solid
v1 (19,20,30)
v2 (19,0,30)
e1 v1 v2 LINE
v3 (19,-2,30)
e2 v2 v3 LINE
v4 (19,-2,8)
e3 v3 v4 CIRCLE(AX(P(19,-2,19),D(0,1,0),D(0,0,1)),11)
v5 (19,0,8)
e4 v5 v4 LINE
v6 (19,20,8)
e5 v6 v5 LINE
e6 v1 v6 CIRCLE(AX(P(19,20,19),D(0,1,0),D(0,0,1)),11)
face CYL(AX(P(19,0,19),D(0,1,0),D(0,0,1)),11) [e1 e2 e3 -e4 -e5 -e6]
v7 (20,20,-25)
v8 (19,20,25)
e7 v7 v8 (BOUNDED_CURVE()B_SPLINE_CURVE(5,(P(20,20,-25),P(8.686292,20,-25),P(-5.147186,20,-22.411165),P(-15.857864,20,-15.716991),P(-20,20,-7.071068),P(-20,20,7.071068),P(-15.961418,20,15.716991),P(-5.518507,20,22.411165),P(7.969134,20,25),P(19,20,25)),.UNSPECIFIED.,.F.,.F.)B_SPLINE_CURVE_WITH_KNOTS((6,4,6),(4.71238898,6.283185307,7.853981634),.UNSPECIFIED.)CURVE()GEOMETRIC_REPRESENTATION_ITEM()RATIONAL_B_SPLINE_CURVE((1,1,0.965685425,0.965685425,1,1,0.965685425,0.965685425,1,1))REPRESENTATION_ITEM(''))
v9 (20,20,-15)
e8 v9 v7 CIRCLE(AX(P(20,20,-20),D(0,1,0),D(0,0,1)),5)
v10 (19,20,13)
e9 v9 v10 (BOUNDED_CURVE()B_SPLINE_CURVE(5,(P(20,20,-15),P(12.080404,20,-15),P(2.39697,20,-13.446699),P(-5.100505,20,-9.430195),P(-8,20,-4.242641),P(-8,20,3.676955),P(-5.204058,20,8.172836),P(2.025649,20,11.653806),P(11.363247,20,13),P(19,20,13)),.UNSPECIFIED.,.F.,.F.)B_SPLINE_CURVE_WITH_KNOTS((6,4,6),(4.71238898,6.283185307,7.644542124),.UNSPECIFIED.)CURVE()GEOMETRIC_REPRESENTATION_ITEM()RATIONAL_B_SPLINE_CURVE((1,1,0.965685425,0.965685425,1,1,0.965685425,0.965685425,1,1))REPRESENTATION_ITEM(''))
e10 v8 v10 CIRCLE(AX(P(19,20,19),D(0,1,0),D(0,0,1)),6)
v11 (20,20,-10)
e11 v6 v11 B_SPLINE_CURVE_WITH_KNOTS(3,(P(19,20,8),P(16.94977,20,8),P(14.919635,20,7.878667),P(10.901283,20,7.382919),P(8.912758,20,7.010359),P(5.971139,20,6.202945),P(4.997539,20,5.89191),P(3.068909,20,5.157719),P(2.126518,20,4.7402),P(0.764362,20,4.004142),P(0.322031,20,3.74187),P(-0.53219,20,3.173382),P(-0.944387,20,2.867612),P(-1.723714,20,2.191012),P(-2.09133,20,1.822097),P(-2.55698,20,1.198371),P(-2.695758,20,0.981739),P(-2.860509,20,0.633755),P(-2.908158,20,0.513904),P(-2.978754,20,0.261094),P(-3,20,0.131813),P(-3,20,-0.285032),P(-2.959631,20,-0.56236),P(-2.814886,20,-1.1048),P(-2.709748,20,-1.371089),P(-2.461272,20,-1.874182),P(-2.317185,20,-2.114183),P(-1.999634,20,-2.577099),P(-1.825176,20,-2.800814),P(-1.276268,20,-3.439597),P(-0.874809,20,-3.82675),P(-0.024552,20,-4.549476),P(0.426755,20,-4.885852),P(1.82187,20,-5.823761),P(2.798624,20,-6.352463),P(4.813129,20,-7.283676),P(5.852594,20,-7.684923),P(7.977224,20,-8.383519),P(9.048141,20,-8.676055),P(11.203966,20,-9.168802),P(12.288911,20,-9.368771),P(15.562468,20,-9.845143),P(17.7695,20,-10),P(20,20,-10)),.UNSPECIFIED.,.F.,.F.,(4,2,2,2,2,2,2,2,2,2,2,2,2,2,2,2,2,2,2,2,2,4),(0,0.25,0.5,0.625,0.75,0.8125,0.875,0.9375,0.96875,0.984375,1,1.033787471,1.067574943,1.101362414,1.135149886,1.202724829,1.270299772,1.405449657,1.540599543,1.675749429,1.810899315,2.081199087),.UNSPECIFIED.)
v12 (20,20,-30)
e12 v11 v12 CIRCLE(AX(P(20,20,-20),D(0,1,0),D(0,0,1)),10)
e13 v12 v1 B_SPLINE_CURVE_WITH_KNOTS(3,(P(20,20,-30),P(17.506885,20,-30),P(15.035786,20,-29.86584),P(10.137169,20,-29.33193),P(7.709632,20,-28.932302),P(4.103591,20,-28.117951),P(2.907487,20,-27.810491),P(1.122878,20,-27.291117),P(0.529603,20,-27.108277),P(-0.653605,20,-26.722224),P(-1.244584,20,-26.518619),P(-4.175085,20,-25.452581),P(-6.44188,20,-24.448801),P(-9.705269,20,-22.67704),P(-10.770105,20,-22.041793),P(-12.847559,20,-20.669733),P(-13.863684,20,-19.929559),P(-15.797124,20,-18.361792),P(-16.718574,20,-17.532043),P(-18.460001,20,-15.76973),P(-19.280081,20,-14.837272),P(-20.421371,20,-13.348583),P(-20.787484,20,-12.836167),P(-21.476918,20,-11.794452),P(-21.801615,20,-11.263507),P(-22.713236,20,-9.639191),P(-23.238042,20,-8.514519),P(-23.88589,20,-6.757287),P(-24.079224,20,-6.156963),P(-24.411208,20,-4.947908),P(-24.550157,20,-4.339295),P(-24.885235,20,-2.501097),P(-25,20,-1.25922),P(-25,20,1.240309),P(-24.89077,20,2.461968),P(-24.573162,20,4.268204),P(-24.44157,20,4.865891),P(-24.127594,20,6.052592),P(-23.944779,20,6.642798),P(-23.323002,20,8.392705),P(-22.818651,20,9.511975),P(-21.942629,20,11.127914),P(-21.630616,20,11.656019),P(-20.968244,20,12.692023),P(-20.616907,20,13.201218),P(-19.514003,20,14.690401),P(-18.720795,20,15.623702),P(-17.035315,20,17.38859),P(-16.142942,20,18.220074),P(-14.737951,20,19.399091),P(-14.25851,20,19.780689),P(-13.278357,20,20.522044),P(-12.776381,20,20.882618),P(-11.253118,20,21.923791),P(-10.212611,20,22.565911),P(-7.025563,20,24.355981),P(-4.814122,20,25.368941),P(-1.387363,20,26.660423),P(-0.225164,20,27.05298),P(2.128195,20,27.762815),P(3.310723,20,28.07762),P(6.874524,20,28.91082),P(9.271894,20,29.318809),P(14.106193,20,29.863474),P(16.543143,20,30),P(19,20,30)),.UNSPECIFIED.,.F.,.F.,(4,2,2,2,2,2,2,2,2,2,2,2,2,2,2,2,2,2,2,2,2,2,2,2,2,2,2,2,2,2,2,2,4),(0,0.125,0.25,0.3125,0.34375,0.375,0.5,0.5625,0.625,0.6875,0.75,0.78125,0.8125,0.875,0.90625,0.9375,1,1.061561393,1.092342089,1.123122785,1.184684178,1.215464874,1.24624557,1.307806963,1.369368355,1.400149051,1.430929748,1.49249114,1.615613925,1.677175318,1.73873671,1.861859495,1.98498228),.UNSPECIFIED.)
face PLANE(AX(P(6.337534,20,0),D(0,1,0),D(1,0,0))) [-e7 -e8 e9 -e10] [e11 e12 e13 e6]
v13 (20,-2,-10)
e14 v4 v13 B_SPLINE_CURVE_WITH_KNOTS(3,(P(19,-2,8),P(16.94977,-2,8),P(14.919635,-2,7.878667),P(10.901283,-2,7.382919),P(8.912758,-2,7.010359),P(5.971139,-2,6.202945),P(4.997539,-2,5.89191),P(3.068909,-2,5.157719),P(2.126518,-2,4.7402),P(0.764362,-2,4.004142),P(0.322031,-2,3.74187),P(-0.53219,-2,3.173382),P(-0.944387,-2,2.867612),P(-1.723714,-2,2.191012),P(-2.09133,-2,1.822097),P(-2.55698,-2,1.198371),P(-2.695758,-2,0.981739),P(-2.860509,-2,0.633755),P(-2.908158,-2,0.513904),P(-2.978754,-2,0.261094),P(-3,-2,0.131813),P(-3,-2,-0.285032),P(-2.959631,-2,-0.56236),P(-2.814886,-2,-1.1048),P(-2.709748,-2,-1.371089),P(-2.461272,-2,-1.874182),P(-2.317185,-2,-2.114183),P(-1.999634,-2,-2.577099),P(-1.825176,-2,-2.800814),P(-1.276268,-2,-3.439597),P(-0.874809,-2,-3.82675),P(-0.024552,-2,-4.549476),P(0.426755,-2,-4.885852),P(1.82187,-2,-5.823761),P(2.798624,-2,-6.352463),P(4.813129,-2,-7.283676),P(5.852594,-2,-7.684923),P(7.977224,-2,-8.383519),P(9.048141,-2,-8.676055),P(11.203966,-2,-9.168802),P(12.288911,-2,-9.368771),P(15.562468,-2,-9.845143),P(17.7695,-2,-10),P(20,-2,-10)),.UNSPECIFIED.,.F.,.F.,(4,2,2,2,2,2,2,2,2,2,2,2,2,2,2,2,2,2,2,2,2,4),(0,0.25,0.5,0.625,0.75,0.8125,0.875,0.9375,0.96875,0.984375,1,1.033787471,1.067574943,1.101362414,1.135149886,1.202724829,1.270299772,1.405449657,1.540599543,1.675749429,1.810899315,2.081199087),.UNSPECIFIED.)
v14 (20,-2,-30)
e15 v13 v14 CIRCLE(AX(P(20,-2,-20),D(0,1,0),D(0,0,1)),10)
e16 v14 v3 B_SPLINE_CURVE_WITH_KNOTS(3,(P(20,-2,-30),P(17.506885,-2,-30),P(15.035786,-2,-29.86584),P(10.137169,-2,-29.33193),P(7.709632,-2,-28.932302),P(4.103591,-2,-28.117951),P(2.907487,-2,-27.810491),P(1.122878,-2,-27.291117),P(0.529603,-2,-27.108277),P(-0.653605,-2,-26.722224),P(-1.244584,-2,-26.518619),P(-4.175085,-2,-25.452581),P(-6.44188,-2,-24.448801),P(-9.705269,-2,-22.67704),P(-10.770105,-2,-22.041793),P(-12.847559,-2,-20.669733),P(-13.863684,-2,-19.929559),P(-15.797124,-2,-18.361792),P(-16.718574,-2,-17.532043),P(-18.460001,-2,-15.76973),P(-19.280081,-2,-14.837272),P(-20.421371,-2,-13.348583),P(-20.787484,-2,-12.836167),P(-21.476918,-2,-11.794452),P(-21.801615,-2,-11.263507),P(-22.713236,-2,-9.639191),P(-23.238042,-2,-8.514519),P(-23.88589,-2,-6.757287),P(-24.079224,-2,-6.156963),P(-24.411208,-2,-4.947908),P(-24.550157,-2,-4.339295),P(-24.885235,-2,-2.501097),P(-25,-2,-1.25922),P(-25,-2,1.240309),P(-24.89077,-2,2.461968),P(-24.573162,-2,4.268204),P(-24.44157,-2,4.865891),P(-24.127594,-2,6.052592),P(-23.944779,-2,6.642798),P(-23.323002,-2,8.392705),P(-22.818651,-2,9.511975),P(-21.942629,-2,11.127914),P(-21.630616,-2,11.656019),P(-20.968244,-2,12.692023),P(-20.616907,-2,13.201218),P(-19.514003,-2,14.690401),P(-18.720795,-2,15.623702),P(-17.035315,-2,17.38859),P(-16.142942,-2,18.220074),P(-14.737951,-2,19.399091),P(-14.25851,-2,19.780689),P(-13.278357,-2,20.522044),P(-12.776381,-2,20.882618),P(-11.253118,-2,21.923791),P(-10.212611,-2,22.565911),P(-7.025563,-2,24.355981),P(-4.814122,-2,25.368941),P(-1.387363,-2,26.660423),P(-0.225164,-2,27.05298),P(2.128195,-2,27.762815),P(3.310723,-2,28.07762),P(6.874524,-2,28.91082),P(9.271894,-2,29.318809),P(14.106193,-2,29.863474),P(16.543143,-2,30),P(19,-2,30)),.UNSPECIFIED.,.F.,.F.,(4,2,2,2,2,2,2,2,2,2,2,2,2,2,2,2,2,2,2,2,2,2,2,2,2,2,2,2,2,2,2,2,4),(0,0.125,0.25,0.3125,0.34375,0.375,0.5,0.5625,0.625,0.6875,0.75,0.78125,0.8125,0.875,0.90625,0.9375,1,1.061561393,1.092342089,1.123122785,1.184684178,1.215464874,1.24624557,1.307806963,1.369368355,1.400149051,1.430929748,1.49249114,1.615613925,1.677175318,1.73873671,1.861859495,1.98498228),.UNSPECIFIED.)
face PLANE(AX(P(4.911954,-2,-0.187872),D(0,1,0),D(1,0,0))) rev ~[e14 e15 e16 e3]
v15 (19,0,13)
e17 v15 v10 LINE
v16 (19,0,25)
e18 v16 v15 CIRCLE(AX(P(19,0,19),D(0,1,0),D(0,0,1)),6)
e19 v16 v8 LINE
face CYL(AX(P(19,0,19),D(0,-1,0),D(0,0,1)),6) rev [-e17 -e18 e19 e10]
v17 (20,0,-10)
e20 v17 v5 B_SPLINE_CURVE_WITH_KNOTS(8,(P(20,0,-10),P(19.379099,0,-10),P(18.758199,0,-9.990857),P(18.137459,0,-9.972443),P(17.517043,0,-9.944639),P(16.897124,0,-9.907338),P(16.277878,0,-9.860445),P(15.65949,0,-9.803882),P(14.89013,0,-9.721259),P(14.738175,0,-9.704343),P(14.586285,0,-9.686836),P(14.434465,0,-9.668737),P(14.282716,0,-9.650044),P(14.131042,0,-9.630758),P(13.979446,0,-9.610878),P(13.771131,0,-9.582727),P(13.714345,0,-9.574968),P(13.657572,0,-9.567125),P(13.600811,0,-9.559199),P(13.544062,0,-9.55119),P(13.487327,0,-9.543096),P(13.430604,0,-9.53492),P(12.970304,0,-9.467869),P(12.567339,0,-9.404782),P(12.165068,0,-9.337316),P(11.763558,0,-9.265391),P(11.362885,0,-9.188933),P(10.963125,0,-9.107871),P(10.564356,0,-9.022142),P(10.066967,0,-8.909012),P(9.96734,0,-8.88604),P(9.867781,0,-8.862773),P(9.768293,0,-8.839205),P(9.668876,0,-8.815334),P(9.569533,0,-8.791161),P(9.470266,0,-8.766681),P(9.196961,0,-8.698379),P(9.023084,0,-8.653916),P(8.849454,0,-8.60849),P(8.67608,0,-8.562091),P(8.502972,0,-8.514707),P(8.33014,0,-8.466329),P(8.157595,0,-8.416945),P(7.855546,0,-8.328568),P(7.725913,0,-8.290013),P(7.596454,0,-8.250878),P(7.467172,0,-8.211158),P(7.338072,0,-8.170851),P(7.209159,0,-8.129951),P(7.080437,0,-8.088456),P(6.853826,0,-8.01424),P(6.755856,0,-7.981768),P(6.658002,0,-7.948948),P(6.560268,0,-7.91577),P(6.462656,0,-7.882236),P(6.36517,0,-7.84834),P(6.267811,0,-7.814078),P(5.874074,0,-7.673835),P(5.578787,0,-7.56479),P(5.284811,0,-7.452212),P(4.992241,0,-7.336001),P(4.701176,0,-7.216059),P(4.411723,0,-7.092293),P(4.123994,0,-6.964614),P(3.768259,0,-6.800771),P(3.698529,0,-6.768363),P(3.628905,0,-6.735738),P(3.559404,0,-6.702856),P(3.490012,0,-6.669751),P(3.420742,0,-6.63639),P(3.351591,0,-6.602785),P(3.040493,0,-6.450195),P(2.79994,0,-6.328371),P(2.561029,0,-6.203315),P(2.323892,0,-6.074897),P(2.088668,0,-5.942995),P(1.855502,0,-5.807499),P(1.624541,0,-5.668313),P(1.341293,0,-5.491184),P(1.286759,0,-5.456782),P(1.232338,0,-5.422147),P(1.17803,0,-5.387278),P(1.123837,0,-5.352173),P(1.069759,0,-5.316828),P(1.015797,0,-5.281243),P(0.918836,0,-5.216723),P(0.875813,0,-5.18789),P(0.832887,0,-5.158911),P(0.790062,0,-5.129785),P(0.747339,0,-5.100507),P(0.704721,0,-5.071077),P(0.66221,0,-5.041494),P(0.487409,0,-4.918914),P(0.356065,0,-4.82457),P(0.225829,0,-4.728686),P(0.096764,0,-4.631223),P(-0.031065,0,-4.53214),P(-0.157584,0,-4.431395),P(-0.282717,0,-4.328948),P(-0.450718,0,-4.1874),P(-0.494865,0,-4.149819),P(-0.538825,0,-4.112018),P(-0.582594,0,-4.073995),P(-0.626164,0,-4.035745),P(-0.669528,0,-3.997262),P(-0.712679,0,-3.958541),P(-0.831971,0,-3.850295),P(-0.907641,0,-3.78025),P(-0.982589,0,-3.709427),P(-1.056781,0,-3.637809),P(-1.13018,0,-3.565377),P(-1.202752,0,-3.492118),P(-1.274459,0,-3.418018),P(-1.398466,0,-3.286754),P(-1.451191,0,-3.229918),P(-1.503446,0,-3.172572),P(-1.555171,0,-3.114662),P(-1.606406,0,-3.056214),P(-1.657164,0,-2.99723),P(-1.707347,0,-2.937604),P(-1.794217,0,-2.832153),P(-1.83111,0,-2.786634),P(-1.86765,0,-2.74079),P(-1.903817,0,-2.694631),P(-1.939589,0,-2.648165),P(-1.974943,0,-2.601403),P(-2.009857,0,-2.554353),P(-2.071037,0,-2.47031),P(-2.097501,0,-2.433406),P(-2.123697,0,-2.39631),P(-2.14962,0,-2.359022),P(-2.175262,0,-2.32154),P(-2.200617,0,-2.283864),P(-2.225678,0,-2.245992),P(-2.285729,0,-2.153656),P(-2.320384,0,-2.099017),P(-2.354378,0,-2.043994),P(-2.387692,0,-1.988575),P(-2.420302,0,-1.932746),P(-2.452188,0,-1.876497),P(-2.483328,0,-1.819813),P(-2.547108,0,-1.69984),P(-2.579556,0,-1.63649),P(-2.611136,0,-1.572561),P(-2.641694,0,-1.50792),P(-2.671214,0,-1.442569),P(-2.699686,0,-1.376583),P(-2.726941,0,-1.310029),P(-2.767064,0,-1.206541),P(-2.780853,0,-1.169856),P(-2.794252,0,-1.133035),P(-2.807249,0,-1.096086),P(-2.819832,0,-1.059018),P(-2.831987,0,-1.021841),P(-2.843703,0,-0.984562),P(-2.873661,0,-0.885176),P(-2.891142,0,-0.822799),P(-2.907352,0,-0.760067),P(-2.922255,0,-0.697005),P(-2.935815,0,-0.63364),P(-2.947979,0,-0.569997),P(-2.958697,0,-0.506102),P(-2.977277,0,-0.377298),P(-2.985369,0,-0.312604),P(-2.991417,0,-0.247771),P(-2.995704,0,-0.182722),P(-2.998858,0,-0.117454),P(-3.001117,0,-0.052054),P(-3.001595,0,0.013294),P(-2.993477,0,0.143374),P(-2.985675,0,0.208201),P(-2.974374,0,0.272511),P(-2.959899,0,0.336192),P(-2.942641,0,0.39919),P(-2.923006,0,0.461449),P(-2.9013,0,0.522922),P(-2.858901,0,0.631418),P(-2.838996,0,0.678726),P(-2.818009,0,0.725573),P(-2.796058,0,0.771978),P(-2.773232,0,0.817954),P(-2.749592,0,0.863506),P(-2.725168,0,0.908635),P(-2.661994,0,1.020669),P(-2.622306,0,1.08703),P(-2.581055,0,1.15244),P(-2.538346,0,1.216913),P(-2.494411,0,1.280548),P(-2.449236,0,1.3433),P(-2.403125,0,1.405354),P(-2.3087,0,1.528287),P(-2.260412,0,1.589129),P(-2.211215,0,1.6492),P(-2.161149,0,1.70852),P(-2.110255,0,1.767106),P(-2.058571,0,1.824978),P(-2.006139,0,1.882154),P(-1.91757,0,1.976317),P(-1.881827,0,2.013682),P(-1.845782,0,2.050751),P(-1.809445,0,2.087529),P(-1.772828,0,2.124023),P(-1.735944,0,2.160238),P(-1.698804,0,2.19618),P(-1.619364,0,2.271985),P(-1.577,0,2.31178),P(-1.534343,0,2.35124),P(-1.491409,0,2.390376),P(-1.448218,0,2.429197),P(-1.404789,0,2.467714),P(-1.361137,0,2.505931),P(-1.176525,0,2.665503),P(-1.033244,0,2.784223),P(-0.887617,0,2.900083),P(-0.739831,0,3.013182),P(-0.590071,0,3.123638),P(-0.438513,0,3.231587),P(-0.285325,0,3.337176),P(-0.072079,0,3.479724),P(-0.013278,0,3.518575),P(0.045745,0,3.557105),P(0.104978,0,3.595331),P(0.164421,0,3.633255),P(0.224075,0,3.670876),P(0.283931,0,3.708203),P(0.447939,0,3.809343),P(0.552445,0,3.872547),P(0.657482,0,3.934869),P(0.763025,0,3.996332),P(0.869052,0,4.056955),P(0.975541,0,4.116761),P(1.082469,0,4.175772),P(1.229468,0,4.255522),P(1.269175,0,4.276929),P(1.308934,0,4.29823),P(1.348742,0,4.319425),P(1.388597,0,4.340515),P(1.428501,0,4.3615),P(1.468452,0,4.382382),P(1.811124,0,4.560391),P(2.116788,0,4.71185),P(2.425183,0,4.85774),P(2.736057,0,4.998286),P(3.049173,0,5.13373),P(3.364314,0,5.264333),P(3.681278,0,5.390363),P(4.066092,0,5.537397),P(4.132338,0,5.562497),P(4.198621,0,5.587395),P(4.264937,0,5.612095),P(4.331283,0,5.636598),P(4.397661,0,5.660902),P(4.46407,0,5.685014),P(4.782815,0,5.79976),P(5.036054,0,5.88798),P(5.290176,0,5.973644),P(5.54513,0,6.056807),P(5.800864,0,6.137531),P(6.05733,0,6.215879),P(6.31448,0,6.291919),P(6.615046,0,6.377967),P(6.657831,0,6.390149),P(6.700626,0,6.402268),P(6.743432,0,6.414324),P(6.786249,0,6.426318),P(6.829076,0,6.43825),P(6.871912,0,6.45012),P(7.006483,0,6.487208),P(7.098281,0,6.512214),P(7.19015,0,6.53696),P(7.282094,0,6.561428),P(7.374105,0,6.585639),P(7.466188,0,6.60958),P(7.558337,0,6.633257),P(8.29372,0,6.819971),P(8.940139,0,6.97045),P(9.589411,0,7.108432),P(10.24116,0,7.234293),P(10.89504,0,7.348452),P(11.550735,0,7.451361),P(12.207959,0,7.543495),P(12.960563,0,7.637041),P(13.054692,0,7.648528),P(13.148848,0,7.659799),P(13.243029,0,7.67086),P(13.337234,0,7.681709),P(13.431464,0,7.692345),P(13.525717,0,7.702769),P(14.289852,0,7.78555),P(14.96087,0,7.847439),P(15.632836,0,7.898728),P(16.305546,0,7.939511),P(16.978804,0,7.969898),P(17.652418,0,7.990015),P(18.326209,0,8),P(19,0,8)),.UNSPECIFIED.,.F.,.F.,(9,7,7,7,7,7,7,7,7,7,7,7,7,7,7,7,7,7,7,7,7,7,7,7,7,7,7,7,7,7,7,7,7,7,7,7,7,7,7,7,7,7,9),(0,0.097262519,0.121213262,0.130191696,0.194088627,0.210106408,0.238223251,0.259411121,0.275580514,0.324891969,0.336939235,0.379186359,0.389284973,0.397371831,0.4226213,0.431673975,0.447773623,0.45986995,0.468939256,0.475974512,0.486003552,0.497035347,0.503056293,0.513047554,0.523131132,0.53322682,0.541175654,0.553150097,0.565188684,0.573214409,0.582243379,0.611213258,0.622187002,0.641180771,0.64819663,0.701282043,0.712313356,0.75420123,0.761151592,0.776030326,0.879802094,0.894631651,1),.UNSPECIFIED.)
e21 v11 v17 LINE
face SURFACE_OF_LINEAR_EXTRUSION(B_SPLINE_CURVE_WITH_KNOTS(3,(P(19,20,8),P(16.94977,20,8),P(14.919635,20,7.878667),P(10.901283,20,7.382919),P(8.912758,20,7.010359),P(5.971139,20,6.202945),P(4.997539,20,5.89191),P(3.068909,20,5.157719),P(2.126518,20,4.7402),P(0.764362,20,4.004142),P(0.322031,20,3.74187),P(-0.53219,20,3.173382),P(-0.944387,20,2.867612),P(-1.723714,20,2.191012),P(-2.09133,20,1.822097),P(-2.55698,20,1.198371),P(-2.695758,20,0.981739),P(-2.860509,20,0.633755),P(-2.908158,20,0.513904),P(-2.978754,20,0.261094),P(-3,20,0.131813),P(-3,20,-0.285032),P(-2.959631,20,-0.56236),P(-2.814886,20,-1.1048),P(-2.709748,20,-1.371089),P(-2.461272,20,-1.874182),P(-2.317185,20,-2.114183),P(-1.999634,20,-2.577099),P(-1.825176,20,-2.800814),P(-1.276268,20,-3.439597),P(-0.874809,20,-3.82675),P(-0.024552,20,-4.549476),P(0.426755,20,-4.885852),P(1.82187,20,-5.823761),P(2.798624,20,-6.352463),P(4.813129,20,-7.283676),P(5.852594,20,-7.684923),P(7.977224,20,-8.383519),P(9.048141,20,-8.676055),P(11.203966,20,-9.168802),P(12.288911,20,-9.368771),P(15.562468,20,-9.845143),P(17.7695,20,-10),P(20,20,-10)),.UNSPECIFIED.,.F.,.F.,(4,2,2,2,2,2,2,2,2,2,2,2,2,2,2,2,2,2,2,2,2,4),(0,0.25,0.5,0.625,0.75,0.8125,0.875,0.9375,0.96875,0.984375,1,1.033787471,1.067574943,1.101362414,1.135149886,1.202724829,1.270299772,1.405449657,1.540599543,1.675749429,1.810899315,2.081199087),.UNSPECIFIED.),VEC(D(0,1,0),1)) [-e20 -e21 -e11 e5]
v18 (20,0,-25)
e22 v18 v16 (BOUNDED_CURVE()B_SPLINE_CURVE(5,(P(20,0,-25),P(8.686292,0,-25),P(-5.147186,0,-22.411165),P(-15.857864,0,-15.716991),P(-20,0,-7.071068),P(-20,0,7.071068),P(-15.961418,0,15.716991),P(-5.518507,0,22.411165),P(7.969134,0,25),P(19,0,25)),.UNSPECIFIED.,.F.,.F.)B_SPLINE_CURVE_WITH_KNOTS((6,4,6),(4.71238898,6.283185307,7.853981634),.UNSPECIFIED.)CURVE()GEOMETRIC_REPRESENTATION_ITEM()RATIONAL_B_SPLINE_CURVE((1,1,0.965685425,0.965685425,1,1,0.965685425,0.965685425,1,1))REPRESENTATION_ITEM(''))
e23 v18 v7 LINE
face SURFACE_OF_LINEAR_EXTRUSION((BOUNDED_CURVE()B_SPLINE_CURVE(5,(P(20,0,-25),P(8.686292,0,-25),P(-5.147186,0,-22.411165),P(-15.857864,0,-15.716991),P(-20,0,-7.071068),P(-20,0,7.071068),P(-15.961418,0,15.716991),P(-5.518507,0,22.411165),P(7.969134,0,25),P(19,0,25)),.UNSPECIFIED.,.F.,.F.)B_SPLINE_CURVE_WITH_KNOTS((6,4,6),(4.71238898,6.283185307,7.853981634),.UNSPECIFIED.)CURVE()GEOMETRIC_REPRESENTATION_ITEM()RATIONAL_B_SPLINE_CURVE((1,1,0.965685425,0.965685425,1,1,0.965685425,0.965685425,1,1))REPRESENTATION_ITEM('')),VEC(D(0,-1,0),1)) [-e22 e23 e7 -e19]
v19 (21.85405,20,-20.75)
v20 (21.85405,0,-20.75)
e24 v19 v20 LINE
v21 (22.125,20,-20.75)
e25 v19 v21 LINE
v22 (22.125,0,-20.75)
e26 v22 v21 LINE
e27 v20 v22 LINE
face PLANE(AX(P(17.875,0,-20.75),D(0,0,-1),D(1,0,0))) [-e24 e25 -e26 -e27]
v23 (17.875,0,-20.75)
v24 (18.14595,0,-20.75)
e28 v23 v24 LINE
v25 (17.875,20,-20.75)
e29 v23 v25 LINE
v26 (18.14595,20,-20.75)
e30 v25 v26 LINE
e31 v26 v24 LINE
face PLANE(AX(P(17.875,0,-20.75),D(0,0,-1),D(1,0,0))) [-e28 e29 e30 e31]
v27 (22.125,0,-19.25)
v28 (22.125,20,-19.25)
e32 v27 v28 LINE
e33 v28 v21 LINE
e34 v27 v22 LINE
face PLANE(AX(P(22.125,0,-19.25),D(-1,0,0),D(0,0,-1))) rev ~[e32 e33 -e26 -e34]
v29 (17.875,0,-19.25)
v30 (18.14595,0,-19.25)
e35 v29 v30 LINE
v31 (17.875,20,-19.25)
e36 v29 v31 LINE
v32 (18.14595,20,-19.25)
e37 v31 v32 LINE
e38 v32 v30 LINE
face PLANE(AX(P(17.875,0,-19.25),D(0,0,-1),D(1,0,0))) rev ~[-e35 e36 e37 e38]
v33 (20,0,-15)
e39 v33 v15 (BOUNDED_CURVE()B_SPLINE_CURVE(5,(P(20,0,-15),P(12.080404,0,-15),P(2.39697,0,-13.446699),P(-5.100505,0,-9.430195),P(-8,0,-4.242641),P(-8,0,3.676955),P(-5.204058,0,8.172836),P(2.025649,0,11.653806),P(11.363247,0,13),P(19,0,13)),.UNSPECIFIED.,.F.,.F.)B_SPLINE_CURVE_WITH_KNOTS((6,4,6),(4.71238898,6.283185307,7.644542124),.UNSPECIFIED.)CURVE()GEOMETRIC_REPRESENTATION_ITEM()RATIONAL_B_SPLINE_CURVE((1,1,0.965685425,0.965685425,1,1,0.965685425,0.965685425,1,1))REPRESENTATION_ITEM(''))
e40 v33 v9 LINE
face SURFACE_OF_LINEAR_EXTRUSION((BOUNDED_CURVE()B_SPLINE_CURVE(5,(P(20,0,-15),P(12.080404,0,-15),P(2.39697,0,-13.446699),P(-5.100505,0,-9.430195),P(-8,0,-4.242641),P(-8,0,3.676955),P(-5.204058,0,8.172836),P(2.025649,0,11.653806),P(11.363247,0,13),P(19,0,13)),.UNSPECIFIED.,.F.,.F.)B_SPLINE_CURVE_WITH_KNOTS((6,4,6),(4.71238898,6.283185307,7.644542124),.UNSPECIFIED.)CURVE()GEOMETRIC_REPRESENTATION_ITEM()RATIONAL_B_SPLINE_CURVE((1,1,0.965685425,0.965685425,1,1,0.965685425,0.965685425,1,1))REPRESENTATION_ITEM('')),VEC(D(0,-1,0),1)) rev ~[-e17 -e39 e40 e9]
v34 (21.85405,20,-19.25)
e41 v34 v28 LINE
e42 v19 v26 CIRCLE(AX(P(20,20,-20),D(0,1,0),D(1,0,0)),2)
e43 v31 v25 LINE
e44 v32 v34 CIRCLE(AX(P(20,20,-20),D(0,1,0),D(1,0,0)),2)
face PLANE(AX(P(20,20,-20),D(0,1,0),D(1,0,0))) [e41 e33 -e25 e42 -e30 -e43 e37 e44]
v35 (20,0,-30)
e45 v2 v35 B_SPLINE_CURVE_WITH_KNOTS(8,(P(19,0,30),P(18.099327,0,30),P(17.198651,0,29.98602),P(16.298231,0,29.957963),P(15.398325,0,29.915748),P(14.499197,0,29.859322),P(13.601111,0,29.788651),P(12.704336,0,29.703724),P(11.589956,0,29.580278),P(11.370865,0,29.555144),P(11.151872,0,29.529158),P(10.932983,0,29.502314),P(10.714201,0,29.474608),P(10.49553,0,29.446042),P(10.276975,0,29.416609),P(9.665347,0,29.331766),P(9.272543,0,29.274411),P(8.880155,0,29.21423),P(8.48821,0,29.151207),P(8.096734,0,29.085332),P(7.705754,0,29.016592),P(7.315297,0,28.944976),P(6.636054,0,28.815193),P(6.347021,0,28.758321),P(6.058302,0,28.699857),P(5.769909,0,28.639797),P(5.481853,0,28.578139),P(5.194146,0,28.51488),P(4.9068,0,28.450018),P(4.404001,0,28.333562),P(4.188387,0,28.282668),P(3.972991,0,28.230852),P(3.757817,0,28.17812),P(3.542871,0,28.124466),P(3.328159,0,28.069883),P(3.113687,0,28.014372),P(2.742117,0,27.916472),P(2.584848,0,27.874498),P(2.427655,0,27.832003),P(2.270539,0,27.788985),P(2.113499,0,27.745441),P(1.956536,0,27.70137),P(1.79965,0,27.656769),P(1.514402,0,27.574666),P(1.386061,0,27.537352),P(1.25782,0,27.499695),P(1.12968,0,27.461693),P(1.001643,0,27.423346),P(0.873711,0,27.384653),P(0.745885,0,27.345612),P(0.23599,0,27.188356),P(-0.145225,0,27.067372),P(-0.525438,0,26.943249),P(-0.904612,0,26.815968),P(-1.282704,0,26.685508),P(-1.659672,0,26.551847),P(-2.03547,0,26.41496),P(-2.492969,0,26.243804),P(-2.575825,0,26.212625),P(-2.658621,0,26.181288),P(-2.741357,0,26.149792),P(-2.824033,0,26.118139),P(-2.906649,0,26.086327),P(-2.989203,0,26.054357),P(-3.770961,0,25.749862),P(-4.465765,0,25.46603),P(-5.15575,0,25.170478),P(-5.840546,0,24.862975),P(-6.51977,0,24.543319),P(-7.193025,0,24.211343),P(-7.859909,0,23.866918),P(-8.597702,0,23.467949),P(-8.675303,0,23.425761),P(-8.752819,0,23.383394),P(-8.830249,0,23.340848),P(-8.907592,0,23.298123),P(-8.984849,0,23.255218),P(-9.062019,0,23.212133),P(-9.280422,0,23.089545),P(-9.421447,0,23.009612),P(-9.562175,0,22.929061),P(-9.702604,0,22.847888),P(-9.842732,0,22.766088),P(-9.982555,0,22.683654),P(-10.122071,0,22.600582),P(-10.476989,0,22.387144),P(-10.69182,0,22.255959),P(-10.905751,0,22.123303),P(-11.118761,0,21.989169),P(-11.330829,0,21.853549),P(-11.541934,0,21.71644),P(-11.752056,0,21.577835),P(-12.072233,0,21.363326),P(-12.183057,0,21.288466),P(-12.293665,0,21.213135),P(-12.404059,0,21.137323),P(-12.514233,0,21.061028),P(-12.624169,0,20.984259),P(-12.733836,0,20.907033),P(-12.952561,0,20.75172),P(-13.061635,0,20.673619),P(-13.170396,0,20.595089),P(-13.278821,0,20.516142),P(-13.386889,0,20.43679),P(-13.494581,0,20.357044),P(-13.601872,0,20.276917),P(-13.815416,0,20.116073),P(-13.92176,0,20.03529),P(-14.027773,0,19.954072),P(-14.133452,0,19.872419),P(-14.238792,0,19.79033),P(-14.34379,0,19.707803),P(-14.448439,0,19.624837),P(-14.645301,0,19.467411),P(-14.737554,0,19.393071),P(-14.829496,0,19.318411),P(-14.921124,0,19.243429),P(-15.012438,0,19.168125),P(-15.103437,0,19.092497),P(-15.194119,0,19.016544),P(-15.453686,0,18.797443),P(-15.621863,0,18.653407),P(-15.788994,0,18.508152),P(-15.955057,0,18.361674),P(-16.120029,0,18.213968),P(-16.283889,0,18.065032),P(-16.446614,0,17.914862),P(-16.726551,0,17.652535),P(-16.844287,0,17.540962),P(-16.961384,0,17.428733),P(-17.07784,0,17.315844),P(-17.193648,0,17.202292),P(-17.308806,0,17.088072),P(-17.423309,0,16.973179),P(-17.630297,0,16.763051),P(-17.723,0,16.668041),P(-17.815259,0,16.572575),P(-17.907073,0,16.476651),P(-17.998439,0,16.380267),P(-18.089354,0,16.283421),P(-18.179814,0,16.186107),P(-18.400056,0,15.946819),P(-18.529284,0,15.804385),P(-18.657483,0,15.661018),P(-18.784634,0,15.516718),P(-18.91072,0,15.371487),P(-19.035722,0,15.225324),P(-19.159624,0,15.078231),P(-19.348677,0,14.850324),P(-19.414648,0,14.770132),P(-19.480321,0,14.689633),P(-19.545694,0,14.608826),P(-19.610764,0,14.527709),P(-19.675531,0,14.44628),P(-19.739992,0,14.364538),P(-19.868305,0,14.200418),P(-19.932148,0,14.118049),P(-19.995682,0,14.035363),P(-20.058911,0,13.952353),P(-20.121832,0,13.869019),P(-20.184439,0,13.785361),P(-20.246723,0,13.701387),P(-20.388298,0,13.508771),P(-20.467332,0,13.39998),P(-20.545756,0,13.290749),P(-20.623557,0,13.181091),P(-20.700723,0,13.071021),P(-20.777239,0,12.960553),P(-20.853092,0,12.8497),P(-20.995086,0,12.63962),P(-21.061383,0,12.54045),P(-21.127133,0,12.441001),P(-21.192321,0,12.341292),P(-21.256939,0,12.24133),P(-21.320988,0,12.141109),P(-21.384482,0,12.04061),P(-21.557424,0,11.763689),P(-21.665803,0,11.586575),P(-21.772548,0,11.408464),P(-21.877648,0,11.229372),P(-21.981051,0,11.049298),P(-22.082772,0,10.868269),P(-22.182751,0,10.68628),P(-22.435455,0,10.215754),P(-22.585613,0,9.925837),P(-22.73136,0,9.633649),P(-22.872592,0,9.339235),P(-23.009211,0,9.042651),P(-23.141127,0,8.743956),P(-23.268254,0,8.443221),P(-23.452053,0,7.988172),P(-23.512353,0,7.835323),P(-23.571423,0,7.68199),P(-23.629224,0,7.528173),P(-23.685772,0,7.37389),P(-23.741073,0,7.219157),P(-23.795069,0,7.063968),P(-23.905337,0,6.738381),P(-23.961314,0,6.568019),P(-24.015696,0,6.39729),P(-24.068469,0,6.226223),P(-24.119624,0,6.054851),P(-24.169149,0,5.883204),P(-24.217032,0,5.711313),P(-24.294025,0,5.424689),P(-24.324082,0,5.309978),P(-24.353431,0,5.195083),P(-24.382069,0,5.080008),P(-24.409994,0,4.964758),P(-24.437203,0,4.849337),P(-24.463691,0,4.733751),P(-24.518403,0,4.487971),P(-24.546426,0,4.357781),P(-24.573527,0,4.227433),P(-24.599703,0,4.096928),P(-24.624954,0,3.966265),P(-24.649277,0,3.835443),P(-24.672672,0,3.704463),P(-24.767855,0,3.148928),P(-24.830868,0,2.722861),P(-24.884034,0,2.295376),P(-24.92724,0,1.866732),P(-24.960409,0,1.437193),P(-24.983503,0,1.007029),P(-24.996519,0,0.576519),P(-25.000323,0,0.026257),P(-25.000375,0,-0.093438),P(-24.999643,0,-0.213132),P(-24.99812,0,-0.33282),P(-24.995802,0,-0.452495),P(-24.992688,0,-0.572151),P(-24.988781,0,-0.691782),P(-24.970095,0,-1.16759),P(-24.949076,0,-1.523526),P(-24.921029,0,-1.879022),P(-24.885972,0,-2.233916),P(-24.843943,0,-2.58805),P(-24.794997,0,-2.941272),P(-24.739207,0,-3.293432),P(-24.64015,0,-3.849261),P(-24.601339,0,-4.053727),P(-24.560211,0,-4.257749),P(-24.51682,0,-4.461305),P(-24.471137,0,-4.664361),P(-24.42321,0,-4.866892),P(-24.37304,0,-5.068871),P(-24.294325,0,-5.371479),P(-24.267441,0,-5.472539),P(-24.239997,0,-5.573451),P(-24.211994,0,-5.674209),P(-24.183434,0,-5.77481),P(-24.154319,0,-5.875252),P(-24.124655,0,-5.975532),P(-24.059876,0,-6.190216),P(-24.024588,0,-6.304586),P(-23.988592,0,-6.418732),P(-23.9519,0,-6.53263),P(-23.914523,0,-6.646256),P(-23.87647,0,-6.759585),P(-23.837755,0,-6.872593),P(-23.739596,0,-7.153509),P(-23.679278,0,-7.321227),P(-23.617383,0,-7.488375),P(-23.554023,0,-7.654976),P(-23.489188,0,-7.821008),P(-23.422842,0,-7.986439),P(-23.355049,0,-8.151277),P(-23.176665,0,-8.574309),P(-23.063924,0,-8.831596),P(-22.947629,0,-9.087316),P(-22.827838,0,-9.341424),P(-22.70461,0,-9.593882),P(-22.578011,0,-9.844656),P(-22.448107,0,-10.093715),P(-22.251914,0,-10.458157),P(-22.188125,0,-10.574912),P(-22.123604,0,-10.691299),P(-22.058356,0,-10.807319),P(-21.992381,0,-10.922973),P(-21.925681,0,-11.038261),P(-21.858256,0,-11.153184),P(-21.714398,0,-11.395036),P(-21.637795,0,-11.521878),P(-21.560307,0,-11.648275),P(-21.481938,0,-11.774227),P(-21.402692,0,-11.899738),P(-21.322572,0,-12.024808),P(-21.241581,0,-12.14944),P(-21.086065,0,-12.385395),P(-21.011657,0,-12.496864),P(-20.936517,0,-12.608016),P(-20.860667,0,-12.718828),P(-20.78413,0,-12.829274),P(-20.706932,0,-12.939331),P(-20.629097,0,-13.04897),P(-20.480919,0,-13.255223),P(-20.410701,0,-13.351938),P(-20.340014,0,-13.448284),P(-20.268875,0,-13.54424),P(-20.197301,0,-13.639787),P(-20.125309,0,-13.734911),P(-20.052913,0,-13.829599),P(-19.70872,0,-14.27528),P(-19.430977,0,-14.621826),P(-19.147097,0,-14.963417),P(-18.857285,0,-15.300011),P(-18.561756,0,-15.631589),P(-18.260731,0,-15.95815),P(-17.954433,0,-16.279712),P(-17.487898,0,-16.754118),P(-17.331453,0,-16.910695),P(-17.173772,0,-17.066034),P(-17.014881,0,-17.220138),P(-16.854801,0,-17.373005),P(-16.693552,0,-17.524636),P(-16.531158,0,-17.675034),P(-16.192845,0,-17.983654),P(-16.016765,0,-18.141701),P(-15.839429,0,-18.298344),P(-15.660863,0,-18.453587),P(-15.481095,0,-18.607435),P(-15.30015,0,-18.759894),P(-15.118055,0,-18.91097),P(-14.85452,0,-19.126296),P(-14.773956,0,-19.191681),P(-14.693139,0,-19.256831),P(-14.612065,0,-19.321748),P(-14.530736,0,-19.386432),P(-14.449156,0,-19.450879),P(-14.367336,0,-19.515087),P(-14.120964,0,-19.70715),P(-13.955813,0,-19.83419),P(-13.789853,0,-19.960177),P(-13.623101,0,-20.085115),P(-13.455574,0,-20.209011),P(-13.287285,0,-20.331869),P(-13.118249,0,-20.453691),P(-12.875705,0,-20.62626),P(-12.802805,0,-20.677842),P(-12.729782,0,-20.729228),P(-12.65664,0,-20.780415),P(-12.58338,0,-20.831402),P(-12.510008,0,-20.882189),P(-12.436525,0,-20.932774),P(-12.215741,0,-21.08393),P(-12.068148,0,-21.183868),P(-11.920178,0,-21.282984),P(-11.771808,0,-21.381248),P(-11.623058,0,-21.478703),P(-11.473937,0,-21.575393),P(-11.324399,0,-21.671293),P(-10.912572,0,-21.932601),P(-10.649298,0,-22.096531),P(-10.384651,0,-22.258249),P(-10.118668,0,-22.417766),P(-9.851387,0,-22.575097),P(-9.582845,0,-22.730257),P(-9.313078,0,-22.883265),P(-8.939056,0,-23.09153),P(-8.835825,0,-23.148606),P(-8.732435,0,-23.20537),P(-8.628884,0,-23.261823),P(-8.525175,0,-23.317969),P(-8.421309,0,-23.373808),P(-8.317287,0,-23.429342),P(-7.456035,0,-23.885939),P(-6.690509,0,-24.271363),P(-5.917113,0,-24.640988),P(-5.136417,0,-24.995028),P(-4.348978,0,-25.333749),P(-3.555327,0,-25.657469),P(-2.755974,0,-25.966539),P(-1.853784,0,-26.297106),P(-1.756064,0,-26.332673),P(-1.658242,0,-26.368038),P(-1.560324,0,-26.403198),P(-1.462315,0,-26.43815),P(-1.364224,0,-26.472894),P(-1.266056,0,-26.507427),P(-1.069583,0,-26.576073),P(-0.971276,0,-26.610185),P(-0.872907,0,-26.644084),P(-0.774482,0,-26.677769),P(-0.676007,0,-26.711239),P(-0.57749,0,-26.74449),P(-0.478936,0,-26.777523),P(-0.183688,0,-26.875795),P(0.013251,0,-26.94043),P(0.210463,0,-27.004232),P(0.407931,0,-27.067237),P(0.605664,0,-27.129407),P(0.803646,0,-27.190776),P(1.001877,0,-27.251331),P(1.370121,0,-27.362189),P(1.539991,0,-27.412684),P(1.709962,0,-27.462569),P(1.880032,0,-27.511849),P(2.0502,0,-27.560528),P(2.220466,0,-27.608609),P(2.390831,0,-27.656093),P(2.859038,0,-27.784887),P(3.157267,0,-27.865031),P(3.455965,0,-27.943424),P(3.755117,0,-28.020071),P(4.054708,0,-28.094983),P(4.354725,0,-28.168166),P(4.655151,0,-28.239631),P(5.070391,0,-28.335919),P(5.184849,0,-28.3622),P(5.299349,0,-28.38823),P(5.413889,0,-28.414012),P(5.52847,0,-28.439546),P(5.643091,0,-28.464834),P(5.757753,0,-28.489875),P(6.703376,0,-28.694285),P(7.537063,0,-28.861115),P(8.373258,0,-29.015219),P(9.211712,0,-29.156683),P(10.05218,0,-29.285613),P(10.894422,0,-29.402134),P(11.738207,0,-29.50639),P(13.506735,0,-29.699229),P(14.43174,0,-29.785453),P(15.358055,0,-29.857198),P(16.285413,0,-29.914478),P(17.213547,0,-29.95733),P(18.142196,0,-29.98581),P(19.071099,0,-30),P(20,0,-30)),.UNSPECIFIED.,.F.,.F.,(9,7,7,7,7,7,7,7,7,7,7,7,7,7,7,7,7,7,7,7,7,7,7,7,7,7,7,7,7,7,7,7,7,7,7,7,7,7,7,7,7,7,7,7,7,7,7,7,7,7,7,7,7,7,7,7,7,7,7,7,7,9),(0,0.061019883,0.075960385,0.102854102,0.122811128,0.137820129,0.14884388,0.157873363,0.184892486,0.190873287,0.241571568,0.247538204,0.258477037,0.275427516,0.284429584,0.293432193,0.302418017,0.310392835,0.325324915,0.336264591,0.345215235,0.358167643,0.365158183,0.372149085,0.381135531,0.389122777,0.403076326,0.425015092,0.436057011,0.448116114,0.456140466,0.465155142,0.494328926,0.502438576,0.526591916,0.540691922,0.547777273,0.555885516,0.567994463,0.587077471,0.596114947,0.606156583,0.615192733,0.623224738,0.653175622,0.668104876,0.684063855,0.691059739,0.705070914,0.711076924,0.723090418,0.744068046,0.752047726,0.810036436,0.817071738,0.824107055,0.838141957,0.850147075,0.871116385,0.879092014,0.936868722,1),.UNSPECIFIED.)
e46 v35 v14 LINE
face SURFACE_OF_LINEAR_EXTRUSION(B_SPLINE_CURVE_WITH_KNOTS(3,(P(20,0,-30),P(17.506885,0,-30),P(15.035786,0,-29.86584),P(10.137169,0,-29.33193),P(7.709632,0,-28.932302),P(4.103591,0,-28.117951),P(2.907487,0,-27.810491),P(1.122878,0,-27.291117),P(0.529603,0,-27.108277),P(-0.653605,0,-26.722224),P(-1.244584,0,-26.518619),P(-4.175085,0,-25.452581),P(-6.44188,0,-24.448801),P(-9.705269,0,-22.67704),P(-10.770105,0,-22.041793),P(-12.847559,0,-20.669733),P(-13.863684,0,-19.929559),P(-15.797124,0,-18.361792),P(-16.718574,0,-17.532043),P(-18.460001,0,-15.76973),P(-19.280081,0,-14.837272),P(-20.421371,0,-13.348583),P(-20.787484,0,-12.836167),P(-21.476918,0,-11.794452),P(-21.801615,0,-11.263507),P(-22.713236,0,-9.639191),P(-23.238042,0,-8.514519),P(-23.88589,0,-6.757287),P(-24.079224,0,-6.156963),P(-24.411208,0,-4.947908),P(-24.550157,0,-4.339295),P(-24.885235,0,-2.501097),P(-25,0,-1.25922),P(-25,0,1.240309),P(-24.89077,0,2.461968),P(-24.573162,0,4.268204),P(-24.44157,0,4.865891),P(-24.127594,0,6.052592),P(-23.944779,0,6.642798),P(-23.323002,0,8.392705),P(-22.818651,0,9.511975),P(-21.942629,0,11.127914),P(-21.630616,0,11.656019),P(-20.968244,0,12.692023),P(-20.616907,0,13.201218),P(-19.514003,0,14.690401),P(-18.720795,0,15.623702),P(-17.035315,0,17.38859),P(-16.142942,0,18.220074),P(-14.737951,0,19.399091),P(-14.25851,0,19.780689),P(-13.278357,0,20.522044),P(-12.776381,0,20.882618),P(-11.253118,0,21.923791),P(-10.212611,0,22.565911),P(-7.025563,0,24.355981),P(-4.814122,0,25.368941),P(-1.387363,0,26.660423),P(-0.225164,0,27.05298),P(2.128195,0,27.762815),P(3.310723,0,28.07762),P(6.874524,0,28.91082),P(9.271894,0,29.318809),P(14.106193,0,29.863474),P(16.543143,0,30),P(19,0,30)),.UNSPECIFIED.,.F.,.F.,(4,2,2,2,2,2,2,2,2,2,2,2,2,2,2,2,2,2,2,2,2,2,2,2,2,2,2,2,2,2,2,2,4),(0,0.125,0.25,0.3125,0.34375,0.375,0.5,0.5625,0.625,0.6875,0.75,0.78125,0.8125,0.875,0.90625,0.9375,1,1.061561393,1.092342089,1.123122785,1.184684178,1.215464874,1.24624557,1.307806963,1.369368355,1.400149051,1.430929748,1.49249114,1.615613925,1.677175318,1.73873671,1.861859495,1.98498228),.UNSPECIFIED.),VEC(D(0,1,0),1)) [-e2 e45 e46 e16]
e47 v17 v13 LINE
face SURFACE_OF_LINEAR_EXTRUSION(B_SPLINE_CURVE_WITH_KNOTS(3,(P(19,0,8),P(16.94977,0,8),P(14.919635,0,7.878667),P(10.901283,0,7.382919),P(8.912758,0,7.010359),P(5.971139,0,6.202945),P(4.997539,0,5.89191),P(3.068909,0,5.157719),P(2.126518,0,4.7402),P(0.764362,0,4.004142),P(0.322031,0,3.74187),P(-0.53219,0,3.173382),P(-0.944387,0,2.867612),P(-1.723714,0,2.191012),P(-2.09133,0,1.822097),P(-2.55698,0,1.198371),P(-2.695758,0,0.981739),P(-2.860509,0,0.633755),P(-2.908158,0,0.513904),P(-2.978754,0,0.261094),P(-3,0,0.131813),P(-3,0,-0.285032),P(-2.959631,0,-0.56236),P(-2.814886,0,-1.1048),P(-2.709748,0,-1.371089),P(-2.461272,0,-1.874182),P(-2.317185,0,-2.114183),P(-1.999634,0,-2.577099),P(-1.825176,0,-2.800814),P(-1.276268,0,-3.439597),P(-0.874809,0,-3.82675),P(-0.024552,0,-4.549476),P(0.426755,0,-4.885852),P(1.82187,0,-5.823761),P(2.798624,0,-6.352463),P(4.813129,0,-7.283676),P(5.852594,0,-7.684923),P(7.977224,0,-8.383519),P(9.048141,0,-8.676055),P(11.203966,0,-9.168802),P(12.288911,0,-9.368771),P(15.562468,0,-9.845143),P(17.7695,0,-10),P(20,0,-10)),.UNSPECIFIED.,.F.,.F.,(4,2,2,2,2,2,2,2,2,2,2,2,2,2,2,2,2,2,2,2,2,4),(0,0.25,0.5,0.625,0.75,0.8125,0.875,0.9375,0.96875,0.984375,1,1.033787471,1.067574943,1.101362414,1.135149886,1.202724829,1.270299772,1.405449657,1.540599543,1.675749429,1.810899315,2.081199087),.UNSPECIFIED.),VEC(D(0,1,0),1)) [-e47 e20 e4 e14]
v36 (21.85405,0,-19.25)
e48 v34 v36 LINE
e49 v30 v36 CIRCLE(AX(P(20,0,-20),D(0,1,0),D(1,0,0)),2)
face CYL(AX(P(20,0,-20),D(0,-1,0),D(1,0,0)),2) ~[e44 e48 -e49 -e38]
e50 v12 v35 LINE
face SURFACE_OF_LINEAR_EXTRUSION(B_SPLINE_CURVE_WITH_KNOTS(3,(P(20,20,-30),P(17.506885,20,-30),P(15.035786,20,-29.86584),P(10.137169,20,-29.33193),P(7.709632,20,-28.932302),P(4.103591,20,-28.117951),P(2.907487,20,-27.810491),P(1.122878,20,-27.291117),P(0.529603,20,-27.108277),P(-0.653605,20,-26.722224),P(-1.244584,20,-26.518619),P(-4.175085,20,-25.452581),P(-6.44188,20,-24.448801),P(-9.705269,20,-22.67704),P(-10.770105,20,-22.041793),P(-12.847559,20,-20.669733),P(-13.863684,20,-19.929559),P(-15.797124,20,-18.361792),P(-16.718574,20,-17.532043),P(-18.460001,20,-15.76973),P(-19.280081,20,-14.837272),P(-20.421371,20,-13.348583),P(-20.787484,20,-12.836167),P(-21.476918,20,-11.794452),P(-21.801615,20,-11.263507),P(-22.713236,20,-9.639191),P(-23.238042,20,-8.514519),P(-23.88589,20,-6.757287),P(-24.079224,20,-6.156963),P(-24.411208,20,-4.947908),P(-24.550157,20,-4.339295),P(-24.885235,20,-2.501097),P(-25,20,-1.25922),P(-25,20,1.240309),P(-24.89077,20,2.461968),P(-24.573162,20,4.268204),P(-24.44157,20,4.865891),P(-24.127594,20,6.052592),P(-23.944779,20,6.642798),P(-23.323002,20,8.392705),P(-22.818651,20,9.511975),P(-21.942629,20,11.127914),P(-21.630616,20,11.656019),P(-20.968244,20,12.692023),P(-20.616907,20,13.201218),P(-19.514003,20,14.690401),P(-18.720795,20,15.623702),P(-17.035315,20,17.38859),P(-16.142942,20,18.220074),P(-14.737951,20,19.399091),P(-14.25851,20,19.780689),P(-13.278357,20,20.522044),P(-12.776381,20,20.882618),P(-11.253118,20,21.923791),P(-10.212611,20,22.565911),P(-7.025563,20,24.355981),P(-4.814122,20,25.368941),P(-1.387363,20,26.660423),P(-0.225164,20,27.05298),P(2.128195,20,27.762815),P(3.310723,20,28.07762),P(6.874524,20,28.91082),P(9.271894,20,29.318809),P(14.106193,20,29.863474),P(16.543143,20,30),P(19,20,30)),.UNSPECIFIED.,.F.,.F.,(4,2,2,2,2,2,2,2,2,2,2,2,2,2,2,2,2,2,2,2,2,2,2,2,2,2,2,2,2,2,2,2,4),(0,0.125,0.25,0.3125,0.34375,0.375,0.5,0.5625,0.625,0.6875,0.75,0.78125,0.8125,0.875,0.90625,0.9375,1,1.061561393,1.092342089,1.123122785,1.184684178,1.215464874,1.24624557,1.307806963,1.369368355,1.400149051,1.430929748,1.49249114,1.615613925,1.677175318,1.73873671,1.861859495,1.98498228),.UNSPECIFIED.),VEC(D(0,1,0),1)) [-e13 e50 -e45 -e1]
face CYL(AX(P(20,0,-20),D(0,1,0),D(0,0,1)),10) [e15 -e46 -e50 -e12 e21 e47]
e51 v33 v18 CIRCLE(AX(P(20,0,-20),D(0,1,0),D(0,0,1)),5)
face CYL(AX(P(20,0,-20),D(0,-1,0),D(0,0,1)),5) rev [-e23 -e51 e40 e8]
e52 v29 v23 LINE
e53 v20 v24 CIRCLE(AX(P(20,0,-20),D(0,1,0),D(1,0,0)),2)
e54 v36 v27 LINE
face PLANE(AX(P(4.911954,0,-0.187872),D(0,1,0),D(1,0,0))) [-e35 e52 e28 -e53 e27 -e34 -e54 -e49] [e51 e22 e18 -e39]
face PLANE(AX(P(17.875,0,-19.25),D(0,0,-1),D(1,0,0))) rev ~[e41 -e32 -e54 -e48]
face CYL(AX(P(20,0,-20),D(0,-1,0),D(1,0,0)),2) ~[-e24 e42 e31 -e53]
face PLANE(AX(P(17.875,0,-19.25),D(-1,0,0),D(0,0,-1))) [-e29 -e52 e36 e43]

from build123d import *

# Parameters (mm, degrees)
SKETCH1_W           = 4.25
SKETCH1_H           = 1.5
SKETCH1_R           = 2
BOSS_EXTRUDE1_DEPTH = 20
FILLET1_R           = 20
CUT_EXTRUDE4_DEPTH  = 57.718365948
BOSS_EXTRUDE3_DEPTH = 2


with BuildPart() as part:
    # Sketch1 → Boss-Extrude1 (new body)
    # profile 1 of 3: a face of its own
    with BuildSketch(Plane(origin=(0, 0, 0), x_dir=(1, 0, 0), z_dir=(0, 1, 0))):
        with BuildLine():
            ThreePointArc((19, -35.199431814), (40, 0), (19, 35.199431814))
            add(Edge.make_bspline(
                [(19, 35.199431814), (-31, 35.199431814), (-31, 0), (-31, -35.199431814), (19, -35.199431814)],
                knots=[4.71238898, 4.71238898, 4.71238898, 6.283185307, 6.283185307, 7.853981634, 7.853981634, 7.853981634], degree=2, weights=[1, 0.707106781, 1, 0.707106781, 1]))
        make_face()
        with BuildLine():
            add(Edge.make_bspline(
                [(-20, 0), (-20, -25), (19, -25)],
                knots=[3.141592654, 3.141592654, 3.141592654, 4.71238898, 4.71238898, 4.71238898], degree=2, weights=[1, 0.707106781, 1]))
            ThreePointArc((19, -25), (25, -19), (19, -13))
            add(Edge.make_bspline(
                [(-8, 0), (-8, -13), (19, -13)],
                knots=[3.141592654, 3.141592654, 3.141592654, 4.71238898, 4.71238898, 4.71238898], degree=2, weights=[1, 0.707106781, 1]))
            add(Edge.make_bspline(
                [(20, 15), (-8, 15), (-8, 0)],
                knots=[4.71238898, 4.71238898, 4.71238898, 6.283185307, 6.283185307, 6.283185307], degree=2, weights=[1, 0.707106781, 1]))
            ThreePointArc((20, 15), (25, 20), (20, 25))
            add(Edge.make_bspline(
                [(20, 25), (-20, 25), (-20, 0)],
                knots=[4.71238898, 4.71238898, 4.71238898, 6.283185307, 6.283185307, 6.283185307], degree=2, weights=[1, 0.707106781, 1]))
        make_face(mode=Mode.SUBTRACT)
    # profile 2 of 3: a face of its own
    with BuildSketch(Plane(origin=(0, 0, 0), x_dir=(1, 0, 0), z_dir=(0, 1, 0))):
        with Locations((20, 20)):
            Rectangle(SKETCH1_W, SKETCH1_H)
    # profile 3 of 3: a face of its own
    with BuildSketch(Plane(origin=(0, 0, 0), x_dir=(1, 0, 0), z_dir=(0, 1, 0))):
        with Locations((20, 20)):
            Circle(SKETCH1_R)
    extrude(amount=BOSS_EXTRUDE1_DEPTH)

    # Fillet1
    fillet1_edges = [part.edges().sort_by_distance(p)[0] for p in [
        (19, 10, 35.199431814),
        (19, 10, -35.199431814),
    ]]
    fillet(fillet1_edges, radius=FILLET1_R)

    # Sketch7 → Cut-Extrude4 (cut, through all)
    with BuildSketch(Plane(origin=(0, 20, 0), x_dir=(1, 0, 0), z_dir=(0, 1, 0))):
        with BuildLine():
            ThreePointArc((26.715732964, -29.770280687), (40, 0), (26.715732964, 29.770280687))
            ThreePointArc((26.715732964, 29.770280687), (19.455130595, 33.933063336), (11.126819445, 34.760311515))
            add(Edge.make_bspline(
                [(11.126819445, 34.760311515), (-31, 30.031450822), (-31, 0), (-31, -30.031450822), (11.126819445, -34.760311515)],
                knots=[4.870510674, 4.870510674, 4.870510674, 6.283185307, 6.283185307, 7.695859941, 7.695859941, 7.695859941], degree=2, weights=[1, 0.760744245, 1, 0.760744245, 1]))
            ThreePointArc((11.126819445, -34.760311515), (19.455130595, -33.933063336), (26.715732964, -29.770280687))
        make_face()
        with BuildLine():
            ThreePointArc((19, -30), (30, -19), (19, -8))
            add(Edge.make_bspline(
                [(19, -8), (16.949769903, -8), (14.919635491, -7.878666683), (10.901282891, -7.382919134), (8.912757648, -7.010358838), (5.971139447, -6.202945035), (4.997539224, -5.89190988), (3.068908542, -5.157719425), (2.126517993, -4.74019977), (0.764362392, -4.004141758), (0.322031311, -3.741869686), (-0.532189619, -3.173382456), (-0.944387188, -2.867611504), (-1.723714217, -2.19101206), (-2.091329975, -1.822097486), (-2.556980251, -1.19837062), (-2.695757658, -0.981738824), (-2.860509133, -0.633755004), (-2.908158215, -0.513903902), (-2.97875361, -0.261094229), (-3, -0.131812819), (-3, 0)],
                knots=[0, 0, 0, 0, 0.25, 0.25, 0.5, 0.5, 0.625, 0.625, 0.75, 0.75, 0.8125, 0.8125, 0.875, 0.875, 0.9375, 0.9375, 0.96875, 0.96875, 0.984375, 0.984375, 1, 1, 1, 1], degree=3))
            add(Edge.make_bspline(
                [(-3, 0), (-3, 0.285031799), (-2.959631015, 0.562359659), (-2.814885588, 1.104800319), (-2.709748408, 1.371089121), (-2.461272148, 1.874181792), (-2.317184542, 2.114182824), (-1.99963354, 2.577098674), (-1.825175914, 2.800814346), (-1.276267896, 3.439596997), (-0.87480875, 3.82674963), (-0.024552048, 4.54947581), (0.42675507, 4.885852158), (1.821869936, 5.823760621), (2.798624207, 6.352463398), (4.813129372, 7.283675579), (5.852594172, 7.684922548), (7.977223824, 8.383518933), (9.048140791, 8.676054913), (11.203966236, 9.168802291), (12.288911447, 9.368771294), (15.562468477, 9.845143032), (17.769500187, 10), (20, 10)],
                knots=[0, 0, 0, 0, 0.03125, 0.03125, 0.0625, 0.0625, 0.09375, 0.09375, 0.125, 0.125, 0.1875, 0.1875, 0.25, 0.25, 0.375, 0.375, 0.5, 0.5, 0.625, 0.625, 0.75, 0.75, 1, 1, 1, 1], degree=3))
            ThreePointArc((20, 10), (30, 20), (20, 30))
            add(Edge.make_bspline(
                [(20, 30), (17.506885485, 30), (15.035786069, 29.865839689), (10.137169124, 29.331930469), (7.709631756, 28.932302453), (4.103591326, 28.117951262), (2.907486905, 27.810491003), (1.122878, 27.291116637), (0.529602547, 27.108276881), (-0.653605213, 26.722224199), (-1.244583727, 26.518618911), (-4.175085126, 25.452580827), (-6.441879772, 24.44880061), (-9.705268999, 22.677039858), (-10.77010477, 22.041792974), (-12.847558758, 20.669732591), (-13.863683808, 19.929559071), (-15.797123556, 18.361792453), (-16.718574276, 17.532042734), (-18.460001381, 15.769730163), (-19.280080654, 14.837271556), (-20.421371096, 13.348583223), (-20.787483847, 12.83616717), (-21.476917659, 11.794452355), (-21.801615407, 11.26350717), (-22.713235734, 9.639191125), (-23.238041794, 8.514519366), (-23.885889726, 6.757286776), (-24.079223508, 6.156963169), (-24.411208155, 4.947908362), (-24.550157367, 4.339294596), (-24.885234569, 2.501097336), (-25, 1.259219511), (-25, 0)],
                knots=[0, 0, 0, 0, 0.125, 0.125, 0.25, 0.25, 0.3125, 0.3125, 0.34375, 0.34375, 0.375, 0.375, 0.5, 0.5, 0.5625, 0.5625, 0.625, 0.625, 0.6875, 0.6875, 0.75, 0.75, 0.78125, 0.78125, 0.8125, 0.8125, 0.875, 0.875, 0.90625, 0.90625, 0.9375, 0.9375, 1, 1, 1, 1], degree=3))
            add(Edge.make_bspline(
                [(-25, 0), (-25, -1.240308905), (-24.890770056, -2.461968136), (-24.573162079, -4.268203825), (-24.441569921, -4.865890529), (-24.127593634, -6.052591833), (-23.944778823, -6.642798298), (-23.323001596, -8.392705426), (-22.818651301, -9.511975262), (-21.942628691, -11.127913821), (-21.630615899, -11.656018714), (-20.968244179, -12.692022913), (-20.616907359, -13.201217603), (-19.5140031, -14.690401179), (-18.720794555, -15.623701529), (-17.035314836, -17.388590032), (-16.14294207, -18.220073874), (-14.737950827, -19.399090724), (-14.258510207, -19.780688978), (-13.27835672, -20.522044282), (-12.776381285, -20.882617535), (-11.253117844, -21.923790649), (-10.212610594, -22.565910833), (-7.025562968, -24.355980763), (-4.814122151, -25.368940752), (-1.387363071, -26.660422544), (-0.225164261, -27.05297986), (2.128195088, -27.762814909), (3.310723323, -28.077620201), (6.874523869, -28.910820054), (9.271893934, -29.318808502), (14.106192667, -29.86347351), (16.543143218, -30), (19, -30)],
                knots=[0, 0, 0, 0, 0.0625, 0.0625, 0.09375, 0.09375, 0.125, 0.125, 0.1875, 0.1875, 0.21875, 0.21875, 0.25, 0.25, 0.3125, 0.3125, 0.375, 0.375, 0.40625, 0.40625, 0.4375, 0.4375, 0.5, 0.5, 0.625, 0.625, 0.6875, 0.6875, 0.75, 0.75, 0.875, 0.875, 1, 1, 1, 1], degree=3))
        make_face(mode=Mode.SUBTRACT)
    extrude(amount=-CUT_EXTRUDE4_DEPTH, mode=Mode.SUBTRACT)

    # Sketch8 → Boss-Extrude3 (add)
    with BuildSketch(Plane(origin=(0, 0, 0), x_dir=(1, 0, 0), z_dir=(0, 1, 0))):
        with BuildLine():
            ThreePointArc((19, -30), (30, -19), (19, -8))
            add(Edge.make_bspline(
                [(19, -8), (16.949769903, -8), (14.919635491, -7.878666683), (10.901282891, -7.382919134), (8.912757648, -7.010358838), (5.971139447, -6.202945035), (4.997539224, -5.89190988), (3.068908542, -5.157719425), (2.126517993, -4.74019977), (0.764362392, -4.004141758), (0.322031311, -3.741869686), (-0.532189619, -3.173382456), (-0.944387188, -2.867611504), (-1.723714217, -2.19101206), (-2.091329975, -1.822097486), (-2.556980251, -1.19837062), (-2.695757658, -0.981738824), (-2.860509133, -0.633755004), (-2.908158215, -0.513903902), (-2.97875361, -0.261094229), (-3, -0.131812819), (-3, 0)],
                knots=[0, 0, 0, 0, 0.25, 0.25, 0.5, 0.5, 0.625, 0.625, 0.75, 0.75, 0.8125, 0.8125, 0.875, 0.875, 0.9375, 0.9375, 0.96875, 0.96875, 0.984375, 0.984375, 1, 1, 1, 1], degree=3))
            add(Edge.make_bspline(
                [(-3, 0), (-3, 0.285031799), (-2.959631015, 0.562359659), (-2.814885588, 1.104800319), (-2.709748408, 1.371089121), (-2.461272148, 1.874181792), (-2.317184542, 2.114182824), (-1.99963354, 2.577098674), (-1.825175914, 2.800814346), (-1.276267896, 3.439596997), (-0.87480875, 3.82674963), (-0.024552048, 4.54947581), (0.42675507, 4.885852158), (1.821869936, 5.823760621), (2.798624207, 6.352463398), (4.813129372, 7.283675579), (5.852594172, 7.684922548), (7.977223824, 8.383518933), (9.048140791, 8.676054913), (11.203966236, 9.168802291), (12.288911447, 9.368771294), (15.562468477, 9.845143032), (17.769500187, 10), (20, 10)],
                knots=[0, 0, 0, 0, 0.03125, 0.03125, 0.0625, 0.0625, 0.09375, 0.09375, 0.125, 0.125, 0.1875, 0.1875, 0.25, 0.25, 0.375, 0.375, 0.5, 0.5, 0.625, 0.625, 0.75, 0.75, 1, 1, 1, 1], degree=3))
            ThreePointArc((20, 10), (30, 20), (20, 30))
            add(Edge.make_bspline(
                [(20, 30), (17.506885485, 30), (15.035786069, 29.865839689), (10.137169124, 29.331930469), (7.709631756, 28.932302453), (4.103591326, 28.117951262), (2.907486905, 27.810491003), (1.122878, 27.291116637), (0.529602547, 27.108276881), (-0.653605213, 26.722224199), (-1.244583727, 26.518618911), (-4.175085126, 25.452580827), (-6.441879772, 24.44880061), (-9.705268999, 22.677039858), (-10.77010477, 22.041792974), (-12.847558758, 20.669732591), (-13.863683808, 19.929559071), (-15.797123556, 18.361792453), (-16.718574276, 17.532042734), (-18.460001381, 15.769730163), (-19.280080654, 14.837271556), (-20.421371096, 13.348583223), (-20.787483847, 12.83616717), (-21.476917659, 11.794452355), (-21.801615407, 11.26350717), (-22.713235734, 9.639191125), (-23.238041794, 8.514519366), (-23.885889726, 6.757286776), (-24.079223508, 6.156963169), (-24.411208155, 4.947908362), (-24.550157367, 4.339294596), (-24.885234569, 2.501097336), (-25, 1.259219511), (-25, 0)],
                knots=[0, 0, 0, 0, 0.125, 0.125, 0.25, 0.25, 0.3125, 0.3125, 0.34375, 0.34375, 0.375, 0.375, 0.5, 0.5, 0.5625, 0.5625, 0.625, 0.625, 0.6875, 0.6875, 0.75, 0.75, 0.78125, 0.78125, 0.8125, 0.8125, 0.875, 0.875, 0.90625, 0.90625, 0.9375, 0.9375, 1, 1, 1, 1], degree=3))
            add(Edge.make_bspline(
                [(-25, 0), (-25, -1.240308905), (-24.890770056, -2.461968136), (-24.573162079, -4.268203825), (-24.441569921, -4.865890529), (-24.127593634, -6.052591833), (-23.944778823, -6.642798298), (-23.323001596, -8.392705426), (-22.818651301, -9.511975262), (-21.942628691, -11.127913821), (-21.630615899, -11.656018714), (-20.968244179, -12.692022913), (-20.616907359, -13.201217603), (-19.5140031, -14.690401179), (-18.720794555, -15.623701529), (-17.035314836, -17.388590032), (-16.14294207, -18.220073874), (-14.737950827, -19.399090724), (-14.258510207, -19.780688978), (-13.27835672, -20.522044282), (-12.776381285, -20.882617535), (-11.253117844, -21.923790649), (-10.212610594, -22.565910833), (-7.025562968, -24.355980763), (-4.814122151, -25.368940752), (-1.387363071, -26.660422544), (-0.225164261, -27.05297986), (2.128195088, -27.762814909), (3.310723323, -28.077620201), (6.874523869, -28.910820054), (9.271893934, -29.318808502), (14.106192667, -29.86347351), (16.543143218, -30), (19, -30)],
                knots=[0, 0, 0, 0, 0.0625, 0.0625, 0.09375, 0.09375, 0.125, 0.125, 0.1875, 0.1875, 0.21875, 0.21875, 0.25, 0.25, 0.3125, 0.3125, 0.375, 0.375, 0.40625, 0.40625, 0.4375, 0.4375, 0.5, 0.5, 0.625, 0.625, 0.6875, 0.6875, 0.75, 0.75, 0.875, 0.875, 1, 1, 1, 1], degree=3))
        make_face()
    extrude(amount=-BOSS_EXTRUDE3_DEPTH)


solid = part.part
